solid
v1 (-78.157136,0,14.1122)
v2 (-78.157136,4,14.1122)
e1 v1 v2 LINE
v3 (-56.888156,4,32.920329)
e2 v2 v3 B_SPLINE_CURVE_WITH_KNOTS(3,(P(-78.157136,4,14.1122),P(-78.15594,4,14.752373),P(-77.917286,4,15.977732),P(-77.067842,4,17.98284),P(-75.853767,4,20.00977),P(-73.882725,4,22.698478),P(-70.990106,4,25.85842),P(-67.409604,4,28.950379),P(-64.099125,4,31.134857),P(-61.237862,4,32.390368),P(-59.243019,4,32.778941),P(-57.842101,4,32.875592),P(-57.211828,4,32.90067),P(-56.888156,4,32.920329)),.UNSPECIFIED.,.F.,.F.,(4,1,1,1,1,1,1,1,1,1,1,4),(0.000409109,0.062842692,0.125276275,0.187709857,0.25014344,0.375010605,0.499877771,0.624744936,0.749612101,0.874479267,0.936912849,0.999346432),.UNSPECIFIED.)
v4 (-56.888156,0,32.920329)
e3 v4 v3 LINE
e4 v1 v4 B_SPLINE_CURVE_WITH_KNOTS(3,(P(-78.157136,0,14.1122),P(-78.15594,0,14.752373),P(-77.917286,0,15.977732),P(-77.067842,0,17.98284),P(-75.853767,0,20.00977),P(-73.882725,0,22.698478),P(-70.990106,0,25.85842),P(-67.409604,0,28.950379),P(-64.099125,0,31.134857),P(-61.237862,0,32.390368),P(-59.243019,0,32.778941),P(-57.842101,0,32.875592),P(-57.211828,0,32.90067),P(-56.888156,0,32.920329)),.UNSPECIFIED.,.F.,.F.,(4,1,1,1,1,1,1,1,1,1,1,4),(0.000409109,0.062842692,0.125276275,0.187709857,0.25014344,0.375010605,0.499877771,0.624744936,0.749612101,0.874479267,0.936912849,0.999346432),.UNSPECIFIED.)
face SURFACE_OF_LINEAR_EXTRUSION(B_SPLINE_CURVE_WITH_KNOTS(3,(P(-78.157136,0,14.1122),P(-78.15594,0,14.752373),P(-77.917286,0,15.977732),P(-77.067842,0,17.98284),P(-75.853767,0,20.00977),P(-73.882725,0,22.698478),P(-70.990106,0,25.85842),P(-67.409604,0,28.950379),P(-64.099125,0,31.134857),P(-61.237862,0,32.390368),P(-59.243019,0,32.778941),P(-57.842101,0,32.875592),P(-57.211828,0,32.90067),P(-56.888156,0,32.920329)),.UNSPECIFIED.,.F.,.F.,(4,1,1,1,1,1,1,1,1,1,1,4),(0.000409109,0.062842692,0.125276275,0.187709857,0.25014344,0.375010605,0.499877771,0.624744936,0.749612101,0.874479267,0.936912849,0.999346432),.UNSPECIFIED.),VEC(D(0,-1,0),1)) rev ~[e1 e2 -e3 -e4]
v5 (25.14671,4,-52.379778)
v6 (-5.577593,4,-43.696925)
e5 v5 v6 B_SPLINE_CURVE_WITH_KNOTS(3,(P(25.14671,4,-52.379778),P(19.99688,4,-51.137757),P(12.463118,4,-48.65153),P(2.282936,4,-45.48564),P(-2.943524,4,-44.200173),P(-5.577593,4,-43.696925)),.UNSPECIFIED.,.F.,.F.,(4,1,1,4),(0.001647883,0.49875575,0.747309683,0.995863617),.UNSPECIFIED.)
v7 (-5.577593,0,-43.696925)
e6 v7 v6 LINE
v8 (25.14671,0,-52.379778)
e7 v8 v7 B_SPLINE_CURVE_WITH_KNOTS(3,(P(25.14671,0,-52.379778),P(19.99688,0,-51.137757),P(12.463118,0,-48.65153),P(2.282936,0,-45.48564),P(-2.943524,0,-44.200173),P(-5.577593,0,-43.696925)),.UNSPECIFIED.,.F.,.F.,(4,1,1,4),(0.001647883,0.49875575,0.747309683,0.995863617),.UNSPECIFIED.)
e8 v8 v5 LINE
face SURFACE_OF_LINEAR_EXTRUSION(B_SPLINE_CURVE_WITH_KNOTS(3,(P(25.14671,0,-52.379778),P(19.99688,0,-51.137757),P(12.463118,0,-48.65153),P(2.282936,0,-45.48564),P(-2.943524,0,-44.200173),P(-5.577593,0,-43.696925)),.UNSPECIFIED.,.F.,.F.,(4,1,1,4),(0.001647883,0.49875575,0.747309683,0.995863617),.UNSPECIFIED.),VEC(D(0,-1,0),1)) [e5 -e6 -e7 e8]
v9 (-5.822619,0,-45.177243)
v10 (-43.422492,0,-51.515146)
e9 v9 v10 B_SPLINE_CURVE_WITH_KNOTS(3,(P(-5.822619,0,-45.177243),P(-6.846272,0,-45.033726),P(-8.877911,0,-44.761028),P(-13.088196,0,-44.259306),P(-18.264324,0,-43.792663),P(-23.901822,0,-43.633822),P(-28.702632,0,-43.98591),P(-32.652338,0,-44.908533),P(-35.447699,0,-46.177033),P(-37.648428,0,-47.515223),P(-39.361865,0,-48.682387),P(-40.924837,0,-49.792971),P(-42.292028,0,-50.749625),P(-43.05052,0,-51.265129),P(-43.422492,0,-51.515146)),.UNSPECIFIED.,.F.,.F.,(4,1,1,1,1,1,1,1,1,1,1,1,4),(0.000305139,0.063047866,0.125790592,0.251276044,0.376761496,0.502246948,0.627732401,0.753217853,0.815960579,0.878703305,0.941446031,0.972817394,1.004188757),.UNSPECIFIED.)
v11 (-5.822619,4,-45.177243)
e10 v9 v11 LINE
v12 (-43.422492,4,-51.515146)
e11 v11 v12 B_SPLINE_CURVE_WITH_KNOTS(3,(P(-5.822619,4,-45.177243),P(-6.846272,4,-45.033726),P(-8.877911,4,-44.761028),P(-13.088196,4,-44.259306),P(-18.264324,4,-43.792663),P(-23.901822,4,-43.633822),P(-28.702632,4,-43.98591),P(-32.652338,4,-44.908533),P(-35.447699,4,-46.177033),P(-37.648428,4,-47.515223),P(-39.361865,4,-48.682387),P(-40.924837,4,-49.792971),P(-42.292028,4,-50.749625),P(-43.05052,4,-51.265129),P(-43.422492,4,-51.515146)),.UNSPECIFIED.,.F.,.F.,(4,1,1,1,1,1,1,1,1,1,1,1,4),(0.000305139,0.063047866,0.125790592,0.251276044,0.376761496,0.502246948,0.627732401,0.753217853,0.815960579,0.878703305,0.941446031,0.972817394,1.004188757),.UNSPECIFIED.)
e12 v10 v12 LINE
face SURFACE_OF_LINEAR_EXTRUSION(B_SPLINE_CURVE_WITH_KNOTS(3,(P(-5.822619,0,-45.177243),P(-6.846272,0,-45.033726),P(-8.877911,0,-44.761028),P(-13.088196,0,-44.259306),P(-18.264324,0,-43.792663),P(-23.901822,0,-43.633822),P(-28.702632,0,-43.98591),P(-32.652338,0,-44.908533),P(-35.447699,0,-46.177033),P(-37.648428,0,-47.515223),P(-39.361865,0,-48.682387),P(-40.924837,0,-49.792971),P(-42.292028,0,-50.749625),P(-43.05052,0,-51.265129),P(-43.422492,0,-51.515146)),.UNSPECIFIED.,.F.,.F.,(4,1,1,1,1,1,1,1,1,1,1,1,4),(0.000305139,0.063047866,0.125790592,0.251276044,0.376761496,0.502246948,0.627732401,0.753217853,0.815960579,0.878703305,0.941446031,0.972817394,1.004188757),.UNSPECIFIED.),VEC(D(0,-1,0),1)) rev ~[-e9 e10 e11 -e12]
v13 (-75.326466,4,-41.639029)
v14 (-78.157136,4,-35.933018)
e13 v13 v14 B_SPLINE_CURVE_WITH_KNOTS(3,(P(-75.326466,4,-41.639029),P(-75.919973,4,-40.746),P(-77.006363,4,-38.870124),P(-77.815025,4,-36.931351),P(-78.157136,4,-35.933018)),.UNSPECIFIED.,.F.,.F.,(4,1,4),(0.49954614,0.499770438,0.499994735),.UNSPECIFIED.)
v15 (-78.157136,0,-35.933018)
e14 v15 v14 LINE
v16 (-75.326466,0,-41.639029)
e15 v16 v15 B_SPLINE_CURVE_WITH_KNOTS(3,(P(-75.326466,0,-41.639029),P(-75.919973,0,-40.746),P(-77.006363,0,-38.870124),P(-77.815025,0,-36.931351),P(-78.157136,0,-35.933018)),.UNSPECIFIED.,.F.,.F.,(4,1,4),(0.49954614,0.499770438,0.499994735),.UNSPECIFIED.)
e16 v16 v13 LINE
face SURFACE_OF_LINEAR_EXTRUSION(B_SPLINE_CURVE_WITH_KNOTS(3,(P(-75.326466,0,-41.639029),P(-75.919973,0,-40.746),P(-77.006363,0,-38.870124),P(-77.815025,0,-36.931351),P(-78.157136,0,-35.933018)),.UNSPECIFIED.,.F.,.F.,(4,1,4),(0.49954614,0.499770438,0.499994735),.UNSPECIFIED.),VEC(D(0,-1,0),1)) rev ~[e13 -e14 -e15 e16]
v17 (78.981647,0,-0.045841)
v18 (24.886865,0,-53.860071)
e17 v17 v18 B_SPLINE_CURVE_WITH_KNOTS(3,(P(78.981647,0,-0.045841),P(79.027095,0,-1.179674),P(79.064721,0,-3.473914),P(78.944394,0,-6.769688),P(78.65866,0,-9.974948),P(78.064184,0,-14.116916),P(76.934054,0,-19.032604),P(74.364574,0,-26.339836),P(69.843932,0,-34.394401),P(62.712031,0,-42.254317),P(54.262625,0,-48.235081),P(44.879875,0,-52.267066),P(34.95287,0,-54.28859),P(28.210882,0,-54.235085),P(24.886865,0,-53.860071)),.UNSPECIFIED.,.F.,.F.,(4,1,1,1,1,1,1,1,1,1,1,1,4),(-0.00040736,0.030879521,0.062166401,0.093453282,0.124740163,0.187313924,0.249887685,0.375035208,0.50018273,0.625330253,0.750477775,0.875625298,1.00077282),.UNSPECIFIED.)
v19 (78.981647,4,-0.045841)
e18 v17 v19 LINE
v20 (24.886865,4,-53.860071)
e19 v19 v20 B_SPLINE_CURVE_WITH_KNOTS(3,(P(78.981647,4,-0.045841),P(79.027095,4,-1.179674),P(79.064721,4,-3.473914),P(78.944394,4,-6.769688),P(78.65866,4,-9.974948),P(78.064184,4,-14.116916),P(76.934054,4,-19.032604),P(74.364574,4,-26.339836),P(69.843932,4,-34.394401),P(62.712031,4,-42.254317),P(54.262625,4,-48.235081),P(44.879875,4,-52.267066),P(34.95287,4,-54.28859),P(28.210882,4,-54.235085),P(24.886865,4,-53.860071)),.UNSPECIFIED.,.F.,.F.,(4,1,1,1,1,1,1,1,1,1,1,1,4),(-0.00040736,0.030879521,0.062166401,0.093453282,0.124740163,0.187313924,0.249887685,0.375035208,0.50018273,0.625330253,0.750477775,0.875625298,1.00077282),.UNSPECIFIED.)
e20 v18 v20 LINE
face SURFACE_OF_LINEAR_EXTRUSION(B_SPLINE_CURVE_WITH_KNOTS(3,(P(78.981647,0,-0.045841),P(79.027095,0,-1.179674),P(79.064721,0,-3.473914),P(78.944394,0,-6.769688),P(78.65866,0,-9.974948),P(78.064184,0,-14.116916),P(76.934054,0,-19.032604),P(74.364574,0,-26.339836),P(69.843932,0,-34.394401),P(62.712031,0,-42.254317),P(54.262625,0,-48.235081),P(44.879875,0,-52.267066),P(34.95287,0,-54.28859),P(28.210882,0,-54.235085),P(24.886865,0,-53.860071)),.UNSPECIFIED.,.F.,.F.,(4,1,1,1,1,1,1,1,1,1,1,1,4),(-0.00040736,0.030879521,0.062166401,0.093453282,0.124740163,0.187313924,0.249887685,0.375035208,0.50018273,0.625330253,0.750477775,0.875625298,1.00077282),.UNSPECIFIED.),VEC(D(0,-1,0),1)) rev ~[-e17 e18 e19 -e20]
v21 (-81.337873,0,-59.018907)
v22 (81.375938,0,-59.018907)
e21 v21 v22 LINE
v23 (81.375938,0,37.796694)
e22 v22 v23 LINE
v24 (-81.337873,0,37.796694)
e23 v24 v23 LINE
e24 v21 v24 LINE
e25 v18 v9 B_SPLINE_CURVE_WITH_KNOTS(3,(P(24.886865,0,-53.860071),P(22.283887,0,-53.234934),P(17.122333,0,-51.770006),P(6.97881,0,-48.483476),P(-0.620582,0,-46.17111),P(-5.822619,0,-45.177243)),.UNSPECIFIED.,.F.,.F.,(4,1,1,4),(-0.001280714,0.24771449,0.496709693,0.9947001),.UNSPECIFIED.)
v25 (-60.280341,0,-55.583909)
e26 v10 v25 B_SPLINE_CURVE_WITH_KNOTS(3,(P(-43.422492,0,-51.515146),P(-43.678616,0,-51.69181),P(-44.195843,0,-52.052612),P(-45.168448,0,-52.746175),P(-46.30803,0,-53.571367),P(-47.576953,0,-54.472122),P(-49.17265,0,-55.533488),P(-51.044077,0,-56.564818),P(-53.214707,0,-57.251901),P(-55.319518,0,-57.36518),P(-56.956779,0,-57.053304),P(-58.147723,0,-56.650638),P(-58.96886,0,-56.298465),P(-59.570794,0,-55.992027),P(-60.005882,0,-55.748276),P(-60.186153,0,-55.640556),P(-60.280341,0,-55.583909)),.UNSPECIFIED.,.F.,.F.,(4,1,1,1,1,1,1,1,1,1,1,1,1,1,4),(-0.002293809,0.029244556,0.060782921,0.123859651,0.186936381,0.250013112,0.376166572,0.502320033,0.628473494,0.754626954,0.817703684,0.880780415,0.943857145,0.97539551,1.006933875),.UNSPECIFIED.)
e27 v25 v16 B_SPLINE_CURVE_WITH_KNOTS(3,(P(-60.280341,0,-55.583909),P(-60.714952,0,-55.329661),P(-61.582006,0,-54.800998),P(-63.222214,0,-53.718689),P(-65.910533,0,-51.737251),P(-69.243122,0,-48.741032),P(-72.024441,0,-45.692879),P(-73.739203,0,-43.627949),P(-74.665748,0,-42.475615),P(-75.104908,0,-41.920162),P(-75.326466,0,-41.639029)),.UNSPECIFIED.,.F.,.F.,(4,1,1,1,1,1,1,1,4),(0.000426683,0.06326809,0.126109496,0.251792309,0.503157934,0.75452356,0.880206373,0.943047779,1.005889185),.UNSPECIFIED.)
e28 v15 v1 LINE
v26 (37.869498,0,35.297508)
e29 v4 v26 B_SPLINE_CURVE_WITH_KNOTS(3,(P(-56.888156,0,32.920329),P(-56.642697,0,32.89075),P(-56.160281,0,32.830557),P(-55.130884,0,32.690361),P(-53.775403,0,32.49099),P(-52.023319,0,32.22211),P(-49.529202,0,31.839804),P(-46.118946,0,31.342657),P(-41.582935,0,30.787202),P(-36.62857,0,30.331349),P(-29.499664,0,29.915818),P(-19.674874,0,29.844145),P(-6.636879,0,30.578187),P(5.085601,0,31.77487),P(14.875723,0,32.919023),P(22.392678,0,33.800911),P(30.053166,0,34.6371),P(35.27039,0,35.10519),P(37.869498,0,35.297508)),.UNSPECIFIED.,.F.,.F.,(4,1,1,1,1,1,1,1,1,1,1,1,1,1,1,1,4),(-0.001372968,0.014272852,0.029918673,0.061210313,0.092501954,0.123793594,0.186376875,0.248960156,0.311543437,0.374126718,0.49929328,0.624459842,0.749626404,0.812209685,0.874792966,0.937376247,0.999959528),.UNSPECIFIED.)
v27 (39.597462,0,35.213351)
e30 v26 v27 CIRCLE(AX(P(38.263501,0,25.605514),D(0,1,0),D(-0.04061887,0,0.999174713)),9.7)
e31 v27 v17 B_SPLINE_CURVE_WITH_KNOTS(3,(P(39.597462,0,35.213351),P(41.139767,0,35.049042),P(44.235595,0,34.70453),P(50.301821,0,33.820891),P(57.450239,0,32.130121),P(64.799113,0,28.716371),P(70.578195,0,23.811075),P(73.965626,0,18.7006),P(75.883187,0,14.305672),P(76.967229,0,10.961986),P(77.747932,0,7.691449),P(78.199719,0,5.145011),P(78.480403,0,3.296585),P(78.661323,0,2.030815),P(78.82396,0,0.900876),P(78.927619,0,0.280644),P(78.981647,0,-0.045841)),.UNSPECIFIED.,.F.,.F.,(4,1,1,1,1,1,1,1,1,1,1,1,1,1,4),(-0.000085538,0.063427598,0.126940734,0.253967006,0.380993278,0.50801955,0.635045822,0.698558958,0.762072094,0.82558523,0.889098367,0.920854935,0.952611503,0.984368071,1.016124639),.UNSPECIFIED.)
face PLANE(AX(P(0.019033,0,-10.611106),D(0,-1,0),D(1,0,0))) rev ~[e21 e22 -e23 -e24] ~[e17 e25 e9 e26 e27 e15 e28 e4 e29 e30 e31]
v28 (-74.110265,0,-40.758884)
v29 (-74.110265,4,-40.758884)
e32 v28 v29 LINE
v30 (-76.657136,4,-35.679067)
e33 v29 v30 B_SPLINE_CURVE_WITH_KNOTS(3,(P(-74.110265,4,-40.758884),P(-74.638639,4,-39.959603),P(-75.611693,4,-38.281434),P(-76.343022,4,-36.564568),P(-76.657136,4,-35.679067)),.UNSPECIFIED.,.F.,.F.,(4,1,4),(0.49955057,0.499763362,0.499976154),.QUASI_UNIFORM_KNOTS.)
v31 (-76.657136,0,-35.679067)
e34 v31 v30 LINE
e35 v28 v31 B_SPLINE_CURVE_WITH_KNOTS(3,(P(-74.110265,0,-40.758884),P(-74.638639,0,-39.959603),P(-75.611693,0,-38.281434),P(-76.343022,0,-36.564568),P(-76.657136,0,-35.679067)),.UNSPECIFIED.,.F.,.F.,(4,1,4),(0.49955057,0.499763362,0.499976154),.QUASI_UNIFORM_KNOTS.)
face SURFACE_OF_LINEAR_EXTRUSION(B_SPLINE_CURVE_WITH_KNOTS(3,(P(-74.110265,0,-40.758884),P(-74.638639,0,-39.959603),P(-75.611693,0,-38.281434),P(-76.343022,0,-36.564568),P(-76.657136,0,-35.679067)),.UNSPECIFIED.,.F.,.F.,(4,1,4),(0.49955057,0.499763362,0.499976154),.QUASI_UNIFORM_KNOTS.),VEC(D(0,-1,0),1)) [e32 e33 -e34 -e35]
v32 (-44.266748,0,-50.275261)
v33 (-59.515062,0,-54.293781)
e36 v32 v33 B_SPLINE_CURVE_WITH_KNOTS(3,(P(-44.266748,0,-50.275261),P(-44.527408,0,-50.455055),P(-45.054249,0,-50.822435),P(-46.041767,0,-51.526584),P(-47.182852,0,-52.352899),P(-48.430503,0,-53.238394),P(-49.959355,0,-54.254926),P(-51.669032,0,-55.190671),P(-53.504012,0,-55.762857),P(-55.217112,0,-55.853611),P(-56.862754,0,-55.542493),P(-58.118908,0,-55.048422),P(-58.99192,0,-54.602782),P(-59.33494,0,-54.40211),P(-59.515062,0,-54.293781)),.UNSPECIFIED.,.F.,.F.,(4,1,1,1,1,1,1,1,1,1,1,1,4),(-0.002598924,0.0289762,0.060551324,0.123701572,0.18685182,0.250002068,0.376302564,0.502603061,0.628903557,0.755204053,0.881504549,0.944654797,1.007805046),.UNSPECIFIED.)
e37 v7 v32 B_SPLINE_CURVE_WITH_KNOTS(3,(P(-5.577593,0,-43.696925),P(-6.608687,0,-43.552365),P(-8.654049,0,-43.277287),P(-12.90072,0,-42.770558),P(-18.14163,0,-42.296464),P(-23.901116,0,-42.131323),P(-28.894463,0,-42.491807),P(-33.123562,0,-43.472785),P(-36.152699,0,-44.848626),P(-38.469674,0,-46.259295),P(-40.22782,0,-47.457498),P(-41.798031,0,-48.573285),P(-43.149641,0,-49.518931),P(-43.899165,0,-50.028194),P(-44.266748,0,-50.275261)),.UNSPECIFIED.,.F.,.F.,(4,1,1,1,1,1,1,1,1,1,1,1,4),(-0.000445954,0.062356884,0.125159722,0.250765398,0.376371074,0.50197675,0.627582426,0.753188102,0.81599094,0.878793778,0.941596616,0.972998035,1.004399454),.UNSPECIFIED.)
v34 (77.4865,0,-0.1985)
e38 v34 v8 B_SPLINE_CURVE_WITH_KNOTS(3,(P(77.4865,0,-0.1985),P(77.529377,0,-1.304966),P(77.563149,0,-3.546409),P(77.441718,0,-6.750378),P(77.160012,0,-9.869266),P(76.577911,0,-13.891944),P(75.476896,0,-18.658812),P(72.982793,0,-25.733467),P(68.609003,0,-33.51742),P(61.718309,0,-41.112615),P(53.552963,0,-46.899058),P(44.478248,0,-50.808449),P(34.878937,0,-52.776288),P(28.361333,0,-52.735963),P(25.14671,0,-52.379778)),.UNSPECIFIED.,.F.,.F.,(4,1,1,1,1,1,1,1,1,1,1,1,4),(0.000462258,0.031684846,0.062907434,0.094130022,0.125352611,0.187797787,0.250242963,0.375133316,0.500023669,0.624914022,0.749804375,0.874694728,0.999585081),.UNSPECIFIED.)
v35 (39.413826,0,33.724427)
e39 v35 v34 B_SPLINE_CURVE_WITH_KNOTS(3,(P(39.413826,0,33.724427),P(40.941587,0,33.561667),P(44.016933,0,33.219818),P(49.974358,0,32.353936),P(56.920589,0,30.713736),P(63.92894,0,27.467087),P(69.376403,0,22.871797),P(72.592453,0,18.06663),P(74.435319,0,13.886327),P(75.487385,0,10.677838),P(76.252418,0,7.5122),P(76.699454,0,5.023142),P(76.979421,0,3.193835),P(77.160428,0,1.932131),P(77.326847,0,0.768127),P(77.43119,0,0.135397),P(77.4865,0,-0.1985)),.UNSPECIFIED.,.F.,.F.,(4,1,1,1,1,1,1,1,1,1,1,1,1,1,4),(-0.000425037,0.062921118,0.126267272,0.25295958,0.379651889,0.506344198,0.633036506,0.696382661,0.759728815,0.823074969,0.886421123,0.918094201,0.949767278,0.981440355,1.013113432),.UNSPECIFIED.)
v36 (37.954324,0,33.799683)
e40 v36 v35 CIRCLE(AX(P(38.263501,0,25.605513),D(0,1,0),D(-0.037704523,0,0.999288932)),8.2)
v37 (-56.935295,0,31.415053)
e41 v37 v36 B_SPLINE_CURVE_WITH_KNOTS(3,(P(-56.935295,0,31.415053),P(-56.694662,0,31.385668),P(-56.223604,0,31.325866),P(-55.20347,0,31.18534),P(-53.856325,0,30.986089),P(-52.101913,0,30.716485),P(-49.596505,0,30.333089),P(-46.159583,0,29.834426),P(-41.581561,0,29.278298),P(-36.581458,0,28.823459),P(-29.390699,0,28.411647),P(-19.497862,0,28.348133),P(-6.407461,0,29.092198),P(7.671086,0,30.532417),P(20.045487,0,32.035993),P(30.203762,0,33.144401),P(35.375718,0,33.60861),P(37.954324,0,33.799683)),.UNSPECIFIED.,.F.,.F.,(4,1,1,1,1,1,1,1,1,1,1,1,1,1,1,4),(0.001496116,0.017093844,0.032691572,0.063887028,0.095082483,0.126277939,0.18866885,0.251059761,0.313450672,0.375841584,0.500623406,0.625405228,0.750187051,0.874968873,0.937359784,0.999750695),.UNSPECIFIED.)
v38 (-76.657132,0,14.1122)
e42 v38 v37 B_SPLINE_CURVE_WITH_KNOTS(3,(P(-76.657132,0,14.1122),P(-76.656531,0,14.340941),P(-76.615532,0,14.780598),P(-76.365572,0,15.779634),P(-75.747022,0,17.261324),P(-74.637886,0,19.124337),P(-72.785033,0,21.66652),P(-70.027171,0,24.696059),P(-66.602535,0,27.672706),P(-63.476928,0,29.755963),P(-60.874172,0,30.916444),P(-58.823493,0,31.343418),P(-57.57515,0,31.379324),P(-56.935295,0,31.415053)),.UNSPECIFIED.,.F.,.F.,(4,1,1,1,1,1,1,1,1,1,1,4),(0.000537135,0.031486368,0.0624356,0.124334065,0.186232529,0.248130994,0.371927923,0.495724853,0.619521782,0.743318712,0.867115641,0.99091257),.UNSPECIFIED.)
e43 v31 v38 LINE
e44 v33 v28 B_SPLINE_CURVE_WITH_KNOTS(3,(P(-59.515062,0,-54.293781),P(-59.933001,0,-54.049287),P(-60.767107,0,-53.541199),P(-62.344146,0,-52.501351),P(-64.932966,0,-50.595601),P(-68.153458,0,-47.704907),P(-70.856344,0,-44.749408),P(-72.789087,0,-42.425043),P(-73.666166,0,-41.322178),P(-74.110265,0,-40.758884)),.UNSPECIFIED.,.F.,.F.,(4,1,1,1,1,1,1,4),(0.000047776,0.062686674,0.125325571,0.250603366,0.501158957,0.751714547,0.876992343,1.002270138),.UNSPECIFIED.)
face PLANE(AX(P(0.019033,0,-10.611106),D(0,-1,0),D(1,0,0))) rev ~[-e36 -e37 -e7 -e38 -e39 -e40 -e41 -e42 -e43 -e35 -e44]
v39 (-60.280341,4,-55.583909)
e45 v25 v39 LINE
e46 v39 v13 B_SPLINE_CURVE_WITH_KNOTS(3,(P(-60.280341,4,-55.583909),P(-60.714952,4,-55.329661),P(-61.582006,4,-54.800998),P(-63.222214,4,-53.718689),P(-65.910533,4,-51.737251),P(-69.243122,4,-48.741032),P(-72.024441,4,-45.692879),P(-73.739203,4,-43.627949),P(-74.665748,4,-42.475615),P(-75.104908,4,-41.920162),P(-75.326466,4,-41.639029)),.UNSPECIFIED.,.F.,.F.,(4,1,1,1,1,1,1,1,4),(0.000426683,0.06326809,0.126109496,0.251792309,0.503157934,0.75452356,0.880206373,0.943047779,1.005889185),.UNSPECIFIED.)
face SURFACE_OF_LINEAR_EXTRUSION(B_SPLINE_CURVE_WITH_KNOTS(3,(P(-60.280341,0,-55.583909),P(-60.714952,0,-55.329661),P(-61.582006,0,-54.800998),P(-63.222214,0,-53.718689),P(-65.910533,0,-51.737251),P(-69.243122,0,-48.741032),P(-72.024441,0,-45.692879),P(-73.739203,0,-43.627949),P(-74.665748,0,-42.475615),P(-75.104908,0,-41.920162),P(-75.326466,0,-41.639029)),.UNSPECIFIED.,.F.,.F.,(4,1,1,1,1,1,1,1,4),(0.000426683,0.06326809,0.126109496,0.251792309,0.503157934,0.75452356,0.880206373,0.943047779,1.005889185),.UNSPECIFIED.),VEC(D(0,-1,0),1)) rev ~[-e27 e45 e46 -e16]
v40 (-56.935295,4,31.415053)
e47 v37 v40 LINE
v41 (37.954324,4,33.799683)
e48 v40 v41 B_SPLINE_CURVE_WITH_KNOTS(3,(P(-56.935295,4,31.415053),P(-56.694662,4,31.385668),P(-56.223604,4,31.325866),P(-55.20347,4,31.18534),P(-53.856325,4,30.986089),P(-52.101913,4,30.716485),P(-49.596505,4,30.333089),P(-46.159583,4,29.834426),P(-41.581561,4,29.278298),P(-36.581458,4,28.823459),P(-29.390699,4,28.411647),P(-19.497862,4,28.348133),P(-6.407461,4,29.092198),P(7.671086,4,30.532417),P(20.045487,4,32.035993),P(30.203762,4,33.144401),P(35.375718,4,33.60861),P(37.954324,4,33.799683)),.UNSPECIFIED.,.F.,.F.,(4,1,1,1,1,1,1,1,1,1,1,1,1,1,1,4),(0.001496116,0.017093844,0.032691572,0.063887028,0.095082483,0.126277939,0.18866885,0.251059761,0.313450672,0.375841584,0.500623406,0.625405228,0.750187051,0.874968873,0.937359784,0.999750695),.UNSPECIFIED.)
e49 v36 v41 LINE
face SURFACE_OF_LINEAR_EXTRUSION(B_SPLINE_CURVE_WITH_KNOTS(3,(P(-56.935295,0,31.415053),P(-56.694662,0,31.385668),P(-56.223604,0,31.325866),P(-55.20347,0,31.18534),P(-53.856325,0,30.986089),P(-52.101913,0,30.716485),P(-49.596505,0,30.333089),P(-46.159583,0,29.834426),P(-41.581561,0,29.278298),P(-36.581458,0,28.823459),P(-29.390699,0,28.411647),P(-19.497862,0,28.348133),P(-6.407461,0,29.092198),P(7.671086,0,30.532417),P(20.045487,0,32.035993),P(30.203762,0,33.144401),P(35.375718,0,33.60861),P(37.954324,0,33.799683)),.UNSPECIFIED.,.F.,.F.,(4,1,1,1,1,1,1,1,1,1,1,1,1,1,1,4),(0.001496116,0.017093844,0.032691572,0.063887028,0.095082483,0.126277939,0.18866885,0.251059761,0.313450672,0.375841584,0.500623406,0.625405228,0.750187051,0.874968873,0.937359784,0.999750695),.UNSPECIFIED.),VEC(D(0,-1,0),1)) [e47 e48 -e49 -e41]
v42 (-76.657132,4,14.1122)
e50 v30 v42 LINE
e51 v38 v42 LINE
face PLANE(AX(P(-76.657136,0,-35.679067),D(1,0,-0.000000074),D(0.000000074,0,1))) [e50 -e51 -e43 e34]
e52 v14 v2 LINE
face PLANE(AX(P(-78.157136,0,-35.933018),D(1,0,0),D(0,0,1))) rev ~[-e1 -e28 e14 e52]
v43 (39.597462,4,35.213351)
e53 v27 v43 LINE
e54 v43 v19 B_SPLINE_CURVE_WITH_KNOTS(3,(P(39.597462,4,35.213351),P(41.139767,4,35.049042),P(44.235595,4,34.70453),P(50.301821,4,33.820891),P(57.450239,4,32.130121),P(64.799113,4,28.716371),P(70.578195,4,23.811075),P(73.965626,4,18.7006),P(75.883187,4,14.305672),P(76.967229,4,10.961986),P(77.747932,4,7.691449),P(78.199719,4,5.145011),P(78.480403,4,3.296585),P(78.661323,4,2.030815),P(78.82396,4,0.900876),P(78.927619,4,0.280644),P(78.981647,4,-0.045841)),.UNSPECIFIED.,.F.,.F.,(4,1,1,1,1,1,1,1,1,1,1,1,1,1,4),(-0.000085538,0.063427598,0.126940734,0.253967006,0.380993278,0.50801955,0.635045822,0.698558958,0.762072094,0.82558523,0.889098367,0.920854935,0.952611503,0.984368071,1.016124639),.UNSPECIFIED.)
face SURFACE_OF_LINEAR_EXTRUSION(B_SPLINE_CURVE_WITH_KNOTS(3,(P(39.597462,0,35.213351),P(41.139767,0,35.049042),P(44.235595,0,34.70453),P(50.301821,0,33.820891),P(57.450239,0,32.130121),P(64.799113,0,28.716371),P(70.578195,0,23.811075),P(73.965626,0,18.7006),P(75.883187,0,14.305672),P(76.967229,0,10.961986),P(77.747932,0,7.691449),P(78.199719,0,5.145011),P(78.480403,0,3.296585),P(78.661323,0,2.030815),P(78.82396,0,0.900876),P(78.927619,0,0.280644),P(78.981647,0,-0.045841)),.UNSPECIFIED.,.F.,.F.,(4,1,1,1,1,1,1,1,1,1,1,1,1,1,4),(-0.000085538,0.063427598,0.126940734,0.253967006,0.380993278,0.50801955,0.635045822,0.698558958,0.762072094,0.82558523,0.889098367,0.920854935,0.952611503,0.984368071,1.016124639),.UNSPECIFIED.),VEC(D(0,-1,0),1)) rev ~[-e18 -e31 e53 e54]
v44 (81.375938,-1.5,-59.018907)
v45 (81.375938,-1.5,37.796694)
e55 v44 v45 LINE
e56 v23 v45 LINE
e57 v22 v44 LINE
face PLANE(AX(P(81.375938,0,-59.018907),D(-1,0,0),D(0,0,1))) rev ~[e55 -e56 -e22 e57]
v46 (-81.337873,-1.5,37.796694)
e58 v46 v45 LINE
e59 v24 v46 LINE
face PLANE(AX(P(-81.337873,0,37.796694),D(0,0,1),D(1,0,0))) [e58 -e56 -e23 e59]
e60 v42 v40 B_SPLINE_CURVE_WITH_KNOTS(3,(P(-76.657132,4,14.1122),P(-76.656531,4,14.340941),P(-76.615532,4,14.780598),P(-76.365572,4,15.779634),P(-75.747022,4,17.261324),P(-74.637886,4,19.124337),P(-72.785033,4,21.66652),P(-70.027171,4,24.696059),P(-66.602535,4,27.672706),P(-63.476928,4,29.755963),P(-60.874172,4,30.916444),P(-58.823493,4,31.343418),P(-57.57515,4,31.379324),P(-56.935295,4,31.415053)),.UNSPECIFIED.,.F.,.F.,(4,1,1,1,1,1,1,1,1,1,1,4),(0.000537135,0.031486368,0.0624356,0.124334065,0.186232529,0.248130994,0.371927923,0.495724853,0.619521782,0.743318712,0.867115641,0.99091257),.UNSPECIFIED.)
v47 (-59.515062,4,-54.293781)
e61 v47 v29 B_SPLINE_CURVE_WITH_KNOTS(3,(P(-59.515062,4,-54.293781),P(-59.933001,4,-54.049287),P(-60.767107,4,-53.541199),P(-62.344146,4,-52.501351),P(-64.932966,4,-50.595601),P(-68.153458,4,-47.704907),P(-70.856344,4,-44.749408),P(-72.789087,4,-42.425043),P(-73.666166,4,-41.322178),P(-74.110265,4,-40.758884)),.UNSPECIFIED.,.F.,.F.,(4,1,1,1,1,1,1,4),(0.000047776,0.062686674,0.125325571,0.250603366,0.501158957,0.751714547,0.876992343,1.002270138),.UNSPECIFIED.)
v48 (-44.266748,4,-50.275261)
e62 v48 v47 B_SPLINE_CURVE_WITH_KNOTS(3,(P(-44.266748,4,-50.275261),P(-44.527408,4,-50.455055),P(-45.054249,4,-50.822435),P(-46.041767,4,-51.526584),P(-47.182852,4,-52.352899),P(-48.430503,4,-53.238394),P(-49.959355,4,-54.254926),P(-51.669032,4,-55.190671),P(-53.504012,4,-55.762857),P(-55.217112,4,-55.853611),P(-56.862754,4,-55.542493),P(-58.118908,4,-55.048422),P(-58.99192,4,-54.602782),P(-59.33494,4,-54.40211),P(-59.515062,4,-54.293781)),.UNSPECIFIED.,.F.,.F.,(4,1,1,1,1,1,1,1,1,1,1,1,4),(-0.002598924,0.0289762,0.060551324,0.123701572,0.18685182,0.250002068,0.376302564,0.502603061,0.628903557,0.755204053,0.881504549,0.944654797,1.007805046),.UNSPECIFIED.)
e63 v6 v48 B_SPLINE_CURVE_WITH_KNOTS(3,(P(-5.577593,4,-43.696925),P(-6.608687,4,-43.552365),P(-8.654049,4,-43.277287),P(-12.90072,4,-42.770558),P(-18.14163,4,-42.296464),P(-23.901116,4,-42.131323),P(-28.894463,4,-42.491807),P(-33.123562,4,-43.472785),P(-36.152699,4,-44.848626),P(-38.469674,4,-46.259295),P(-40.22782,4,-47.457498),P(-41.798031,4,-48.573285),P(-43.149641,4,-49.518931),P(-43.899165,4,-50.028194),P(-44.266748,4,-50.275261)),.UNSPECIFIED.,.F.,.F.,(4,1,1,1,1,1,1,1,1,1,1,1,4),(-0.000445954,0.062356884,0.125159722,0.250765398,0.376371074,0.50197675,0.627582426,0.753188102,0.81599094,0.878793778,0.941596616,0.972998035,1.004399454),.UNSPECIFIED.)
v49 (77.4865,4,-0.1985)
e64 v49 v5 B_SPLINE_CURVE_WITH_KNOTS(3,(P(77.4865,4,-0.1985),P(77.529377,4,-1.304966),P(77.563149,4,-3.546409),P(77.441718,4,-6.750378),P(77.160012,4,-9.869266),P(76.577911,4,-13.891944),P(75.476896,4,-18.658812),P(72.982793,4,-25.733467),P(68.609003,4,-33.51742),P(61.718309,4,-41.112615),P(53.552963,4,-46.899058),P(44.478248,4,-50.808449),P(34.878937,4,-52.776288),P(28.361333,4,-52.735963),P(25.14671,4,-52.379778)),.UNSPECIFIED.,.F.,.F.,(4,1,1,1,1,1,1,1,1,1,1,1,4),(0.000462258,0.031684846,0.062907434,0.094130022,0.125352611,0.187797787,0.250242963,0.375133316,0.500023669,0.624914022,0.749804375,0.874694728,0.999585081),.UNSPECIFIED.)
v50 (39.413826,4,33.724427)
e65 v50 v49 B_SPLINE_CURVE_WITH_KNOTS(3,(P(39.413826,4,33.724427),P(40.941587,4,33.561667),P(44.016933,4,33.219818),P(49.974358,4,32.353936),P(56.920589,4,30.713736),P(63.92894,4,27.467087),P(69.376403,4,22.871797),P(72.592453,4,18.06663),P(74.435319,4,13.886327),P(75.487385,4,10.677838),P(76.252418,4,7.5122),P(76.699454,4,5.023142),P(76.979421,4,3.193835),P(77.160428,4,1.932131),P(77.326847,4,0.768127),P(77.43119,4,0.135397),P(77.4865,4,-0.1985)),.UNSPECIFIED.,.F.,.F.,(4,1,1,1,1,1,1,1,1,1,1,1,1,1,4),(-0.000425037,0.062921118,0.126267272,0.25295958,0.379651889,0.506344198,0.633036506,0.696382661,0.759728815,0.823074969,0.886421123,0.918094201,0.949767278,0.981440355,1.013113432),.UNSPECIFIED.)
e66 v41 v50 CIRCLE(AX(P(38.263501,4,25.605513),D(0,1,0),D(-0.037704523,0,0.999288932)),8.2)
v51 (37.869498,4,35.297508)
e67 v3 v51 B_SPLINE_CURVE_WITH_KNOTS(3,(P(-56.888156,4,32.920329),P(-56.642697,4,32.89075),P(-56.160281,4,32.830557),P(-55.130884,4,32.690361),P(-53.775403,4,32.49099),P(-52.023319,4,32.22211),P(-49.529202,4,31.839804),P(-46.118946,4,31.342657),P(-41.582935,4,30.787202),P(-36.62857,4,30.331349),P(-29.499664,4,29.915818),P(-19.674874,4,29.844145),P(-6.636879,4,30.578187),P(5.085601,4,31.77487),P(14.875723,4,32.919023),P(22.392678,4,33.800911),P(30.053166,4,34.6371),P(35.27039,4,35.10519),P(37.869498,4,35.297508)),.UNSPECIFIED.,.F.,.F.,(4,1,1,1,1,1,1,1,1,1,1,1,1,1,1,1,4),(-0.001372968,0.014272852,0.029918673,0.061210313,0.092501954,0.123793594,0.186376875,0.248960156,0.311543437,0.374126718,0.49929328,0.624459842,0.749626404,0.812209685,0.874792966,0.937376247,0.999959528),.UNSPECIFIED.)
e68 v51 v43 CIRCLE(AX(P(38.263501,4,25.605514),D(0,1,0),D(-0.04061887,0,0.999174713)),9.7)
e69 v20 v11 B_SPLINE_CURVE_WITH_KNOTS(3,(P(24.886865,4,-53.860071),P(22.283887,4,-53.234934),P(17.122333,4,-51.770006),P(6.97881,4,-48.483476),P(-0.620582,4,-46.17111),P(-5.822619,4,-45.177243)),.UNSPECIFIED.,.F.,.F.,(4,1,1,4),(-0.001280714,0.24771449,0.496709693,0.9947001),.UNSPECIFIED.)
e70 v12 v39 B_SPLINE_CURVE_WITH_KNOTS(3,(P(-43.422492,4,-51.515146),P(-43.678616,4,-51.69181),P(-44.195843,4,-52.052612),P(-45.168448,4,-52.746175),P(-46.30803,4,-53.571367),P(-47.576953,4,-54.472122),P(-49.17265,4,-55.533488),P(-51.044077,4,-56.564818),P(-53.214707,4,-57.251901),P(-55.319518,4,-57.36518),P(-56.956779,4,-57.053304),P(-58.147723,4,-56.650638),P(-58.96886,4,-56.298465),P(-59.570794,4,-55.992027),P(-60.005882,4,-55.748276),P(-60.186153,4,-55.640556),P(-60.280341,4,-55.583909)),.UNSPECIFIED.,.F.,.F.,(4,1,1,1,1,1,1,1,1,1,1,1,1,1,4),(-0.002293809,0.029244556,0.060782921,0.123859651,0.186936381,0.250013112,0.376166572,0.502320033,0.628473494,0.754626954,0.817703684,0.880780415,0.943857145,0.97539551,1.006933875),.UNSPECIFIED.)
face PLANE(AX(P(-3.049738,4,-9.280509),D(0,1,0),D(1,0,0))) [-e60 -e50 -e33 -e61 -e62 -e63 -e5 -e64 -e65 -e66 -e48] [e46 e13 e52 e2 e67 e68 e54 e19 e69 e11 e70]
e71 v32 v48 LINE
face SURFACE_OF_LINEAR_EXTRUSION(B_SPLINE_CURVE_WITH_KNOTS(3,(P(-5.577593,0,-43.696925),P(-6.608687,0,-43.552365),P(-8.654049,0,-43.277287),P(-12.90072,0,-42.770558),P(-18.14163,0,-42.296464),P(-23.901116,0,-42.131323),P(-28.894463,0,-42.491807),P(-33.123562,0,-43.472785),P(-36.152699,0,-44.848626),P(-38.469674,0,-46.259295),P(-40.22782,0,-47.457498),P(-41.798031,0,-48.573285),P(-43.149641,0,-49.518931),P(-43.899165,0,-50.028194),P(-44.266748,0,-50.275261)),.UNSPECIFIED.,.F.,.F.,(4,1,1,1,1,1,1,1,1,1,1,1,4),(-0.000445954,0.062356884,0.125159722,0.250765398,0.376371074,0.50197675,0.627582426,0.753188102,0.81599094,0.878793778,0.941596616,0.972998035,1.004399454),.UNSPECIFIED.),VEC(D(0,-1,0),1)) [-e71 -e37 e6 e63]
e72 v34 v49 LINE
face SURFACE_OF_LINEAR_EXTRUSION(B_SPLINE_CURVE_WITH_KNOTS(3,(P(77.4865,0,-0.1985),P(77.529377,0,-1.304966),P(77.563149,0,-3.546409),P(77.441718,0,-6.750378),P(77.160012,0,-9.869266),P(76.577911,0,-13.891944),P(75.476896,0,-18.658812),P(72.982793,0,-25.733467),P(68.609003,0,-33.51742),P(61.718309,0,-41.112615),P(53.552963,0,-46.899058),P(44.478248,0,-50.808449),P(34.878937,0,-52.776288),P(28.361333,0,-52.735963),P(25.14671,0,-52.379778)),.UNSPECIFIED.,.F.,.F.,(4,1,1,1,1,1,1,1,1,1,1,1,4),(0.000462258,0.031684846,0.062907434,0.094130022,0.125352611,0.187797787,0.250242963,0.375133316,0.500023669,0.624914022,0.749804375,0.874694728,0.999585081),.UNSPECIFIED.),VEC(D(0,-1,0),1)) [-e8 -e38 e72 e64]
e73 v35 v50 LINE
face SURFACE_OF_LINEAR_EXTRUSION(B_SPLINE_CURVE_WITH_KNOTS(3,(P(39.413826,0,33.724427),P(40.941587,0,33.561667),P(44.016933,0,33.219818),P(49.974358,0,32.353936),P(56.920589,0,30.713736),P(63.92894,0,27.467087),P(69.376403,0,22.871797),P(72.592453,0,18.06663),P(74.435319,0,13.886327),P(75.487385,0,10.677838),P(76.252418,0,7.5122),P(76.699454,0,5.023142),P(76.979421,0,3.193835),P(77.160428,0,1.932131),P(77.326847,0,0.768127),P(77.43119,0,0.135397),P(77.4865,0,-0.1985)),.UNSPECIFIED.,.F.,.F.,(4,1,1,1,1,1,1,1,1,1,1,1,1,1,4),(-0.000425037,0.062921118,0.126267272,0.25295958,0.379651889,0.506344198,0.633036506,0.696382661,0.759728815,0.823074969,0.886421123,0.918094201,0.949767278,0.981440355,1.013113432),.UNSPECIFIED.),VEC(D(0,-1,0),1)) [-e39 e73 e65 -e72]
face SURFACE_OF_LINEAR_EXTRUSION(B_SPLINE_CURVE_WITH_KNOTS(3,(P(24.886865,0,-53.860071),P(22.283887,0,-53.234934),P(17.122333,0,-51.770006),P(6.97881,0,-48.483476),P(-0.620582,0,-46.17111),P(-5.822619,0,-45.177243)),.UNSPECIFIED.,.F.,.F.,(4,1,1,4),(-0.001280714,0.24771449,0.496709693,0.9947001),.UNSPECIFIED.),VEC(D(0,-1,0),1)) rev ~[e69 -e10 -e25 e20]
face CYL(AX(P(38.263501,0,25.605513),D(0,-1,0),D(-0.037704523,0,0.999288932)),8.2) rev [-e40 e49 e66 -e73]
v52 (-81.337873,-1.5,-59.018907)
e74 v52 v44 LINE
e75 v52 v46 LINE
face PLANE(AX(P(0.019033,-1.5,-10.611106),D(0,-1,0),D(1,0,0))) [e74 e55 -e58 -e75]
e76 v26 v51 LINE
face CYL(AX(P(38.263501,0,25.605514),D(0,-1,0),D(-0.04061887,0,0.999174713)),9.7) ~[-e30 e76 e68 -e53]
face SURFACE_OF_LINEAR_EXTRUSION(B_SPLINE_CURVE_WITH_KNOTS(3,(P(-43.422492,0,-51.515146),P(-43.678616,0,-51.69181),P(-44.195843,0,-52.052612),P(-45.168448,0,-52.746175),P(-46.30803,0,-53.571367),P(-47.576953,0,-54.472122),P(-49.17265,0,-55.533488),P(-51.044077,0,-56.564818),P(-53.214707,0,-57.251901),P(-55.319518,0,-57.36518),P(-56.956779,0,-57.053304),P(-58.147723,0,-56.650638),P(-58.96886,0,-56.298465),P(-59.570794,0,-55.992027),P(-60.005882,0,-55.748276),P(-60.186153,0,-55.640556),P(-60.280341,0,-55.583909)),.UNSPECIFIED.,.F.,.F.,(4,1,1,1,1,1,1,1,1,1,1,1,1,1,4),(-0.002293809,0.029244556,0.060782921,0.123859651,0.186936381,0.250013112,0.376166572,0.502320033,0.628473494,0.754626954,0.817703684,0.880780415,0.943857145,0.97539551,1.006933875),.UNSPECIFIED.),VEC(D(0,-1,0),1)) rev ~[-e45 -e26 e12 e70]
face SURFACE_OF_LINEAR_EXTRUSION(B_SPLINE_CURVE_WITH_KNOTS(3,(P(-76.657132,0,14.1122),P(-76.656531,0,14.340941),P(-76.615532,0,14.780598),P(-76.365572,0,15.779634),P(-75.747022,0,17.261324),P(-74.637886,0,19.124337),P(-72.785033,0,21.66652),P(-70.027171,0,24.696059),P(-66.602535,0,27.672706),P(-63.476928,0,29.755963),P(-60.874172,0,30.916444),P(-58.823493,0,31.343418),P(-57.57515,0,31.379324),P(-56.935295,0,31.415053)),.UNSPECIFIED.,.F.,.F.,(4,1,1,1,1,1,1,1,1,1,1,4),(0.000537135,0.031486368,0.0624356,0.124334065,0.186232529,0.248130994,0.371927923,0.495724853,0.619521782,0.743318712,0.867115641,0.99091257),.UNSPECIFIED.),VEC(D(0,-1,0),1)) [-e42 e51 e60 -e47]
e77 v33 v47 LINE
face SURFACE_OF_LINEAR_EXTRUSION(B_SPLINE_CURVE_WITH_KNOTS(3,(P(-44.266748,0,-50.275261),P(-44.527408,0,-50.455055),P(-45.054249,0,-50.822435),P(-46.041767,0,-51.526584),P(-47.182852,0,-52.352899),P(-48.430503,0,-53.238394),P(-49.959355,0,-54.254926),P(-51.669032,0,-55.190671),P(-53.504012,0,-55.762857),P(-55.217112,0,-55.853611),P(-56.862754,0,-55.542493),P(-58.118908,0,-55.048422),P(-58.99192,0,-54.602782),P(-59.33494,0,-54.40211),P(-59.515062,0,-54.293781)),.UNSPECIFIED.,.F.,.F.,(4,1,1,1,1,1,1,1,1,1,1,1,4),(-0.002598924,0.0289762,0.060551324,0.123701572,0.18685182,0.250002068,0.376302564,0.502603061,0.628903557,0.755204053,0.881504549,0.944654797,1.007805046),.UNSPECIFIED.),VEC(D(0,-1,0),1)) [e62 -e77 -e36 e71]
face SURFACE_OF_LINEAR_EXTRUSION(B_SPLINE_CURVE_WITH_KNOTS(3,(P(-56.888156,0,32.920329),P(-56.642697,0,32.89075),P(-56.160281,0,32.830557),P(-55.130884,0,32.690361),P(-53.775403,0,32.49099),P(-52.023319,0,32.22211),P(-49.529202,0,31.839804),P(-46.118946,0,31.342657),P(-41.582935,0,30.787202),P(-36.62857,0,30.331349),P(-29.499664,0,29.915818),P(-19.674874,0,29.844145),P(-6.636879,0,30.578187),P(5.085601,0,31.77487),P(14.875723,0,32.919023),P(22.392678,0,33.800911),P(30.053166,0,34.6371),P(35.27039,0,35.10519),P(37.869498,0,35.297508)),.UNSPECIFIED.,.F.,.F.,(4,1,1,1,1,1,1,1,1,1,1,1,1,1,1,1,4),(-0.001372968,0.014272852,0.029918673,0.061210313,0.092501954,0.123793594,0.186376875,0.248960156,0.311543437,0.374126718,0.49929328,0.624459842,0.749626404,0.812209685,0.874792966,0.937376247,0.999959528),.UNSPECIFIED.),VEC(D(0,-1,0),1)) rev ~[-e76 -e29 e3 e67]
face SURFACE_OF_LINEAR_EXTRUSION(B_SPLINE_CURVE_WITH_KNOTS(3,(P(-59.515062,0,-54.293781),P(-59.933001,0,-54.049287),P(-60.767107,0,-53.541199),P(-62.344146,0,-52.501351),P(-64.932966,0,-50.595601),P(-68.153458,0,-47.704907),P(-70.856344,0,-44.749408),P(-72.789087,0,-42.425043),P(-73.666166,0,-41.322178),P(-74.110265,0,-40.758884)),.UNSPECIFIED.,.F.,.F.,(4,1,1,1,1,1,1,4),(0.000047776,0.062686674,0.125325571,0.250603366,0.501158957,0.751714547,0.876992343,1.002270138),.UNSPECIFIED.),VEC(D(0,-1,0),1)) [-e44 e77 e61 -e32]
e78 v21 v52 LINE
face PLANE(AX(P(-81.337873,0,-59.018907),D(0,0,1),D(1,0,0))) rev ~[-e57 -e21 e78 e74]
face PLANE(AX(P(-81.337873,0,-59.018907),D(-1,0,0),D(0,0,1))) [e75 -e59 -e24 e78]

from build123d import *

# Parameters (mm, degrees)
BOSS_EXTRUDE2_DEPTH = 4
SKETCH3_W           = 162.713811117
SKETCH3_H           = 96.815600969
BOSS_EXTRUDE3_DEPTH = 1.5


with BuildPart() as part:
    # Sketch2 → Boss-Extrude2 (new body)
    with BuildSketch(Plane(origin=(0, 0, 0), x_dir=(1, 0, 0), z_dir=(0, 1, 0))):
        with BuildLine():
            Line((-78.157135648, 35.933017955), (-78.157135648, -14.112200016))
            add(Edge.make_bspline(
                [(-78.157135648, -14.112200016), (-78.155939648, -14.752373068), (-77.91728619, -15.977732307), (-77.067841768, -17.98284043), (-75.853766997, -20.009770375), (-73.882725179, -22.698478403), (-70.990105914, -25.858420252), (-67.409604046, -28.950378503), (-64.099125185, -31.13485728), (-61.237861598, -32.390367883), (-59.243018884, -32.778941146), (-57.84210102, -32.875591912), (-57.21182785, -32.900669531), (-56.88815566, -32.920328572)],
                knots=[0.000409109, 0.000409109, 0.000409109, 0.000409109, 0.062842692, 0.125276275, 0.187709857, 0.25014344, 0.375010605, 0.499877771, 0.624744936, 0.749612101, 0.874479267, 0.936912849, 0.999346432, 0.999346432, 0.999346432, 0.999346432], degree=3))
            add(Edge.make_bspline(
                [(-56.88815566, -32.920328572), (-56.642696558, -32.89075012), (-56.160280632, -32.83055745), (-55.130884334, -32.690361106), (-53.775402575, -32.490990423), (-52.023319465, -32.222109613), (-49.529202359, -31.839803624), (-46.118946018, -31.34265718), (-41.582935401, -30.787201605), (-36.628570251, -30.3313494), (-29.499663542, -29.915818278), (-19.674874473, -29.844145156), (-6.636878998, -30.578186936), (5.085601081, -31.774869617), (14.875722867, -32.919022634), (22.392678178, -33.800910905), (30.053166384, -34.637100414), (35.270389761, -35.105189919), (37.869497862, -35.297508229)],
                knots=[-0.001372968, -0.001372968, -0.001372968, -0.001372968, 0.014272852, 0.029918673, 0.061210313, 0.092501954, 0.123793594, 0.186376875, 0.248960156, 0.311543437, 0.374126718, 0.49929328, 0.624459842, 0.749626404, 0.812209685, 0.874792966, 0.937376247, 0.999959528, 0.999959528, 0.999959528, 0.999959528], degree=3))
            ThreePointArc((37.869497862, -35.297508229), (38.735359767, -35.294029869), (39.597461801, -35.21335137))
            add(Edge.make_bspline(
                [(39.597461801, -35.21335137), (41.139767175, -35.04904175), (44.235594855, -34.704530206), (50.30182099, -33.820891122), (57.45023856, -32.130120831), (64.799112885, -28.716371013), (70.578195113, -23.811075447), (73.965626007, -18.700600273), (75.883187129, -14.305672198), (76.967229357, -10.961986186), (77.747932295, -7.691449122), (78.199718827, -5.145010951), (78.480402727, -3.296584904), (78.661323244, -2.03081469), (78.823959845, -0.900875926), (78.927618693, -0.280644372), (78.981646775, 0.045841454)],
                knots=[-8.5538e-05, -8.5538e-05, -8.5538e-05, -8.5538e-05, 0.063427598, 0.126940734, 0.253967006, 0.380993278, 0.50801955, 0.635045822, 0.698558958, 0.762072094, 0.82558523, 0.889098367, 0.920854935, 0.952611503, 0.984368071, 1.016124639, 1.016124639, 1.016124639, 1.016124639], degree=3))
            add(Edge.make_bspline(
                [(78.981646775, 0.045841454), (79.027094782, 1.179674429), (79.064720926, 3.473913783), (78.944393791, 6.769688051), (78.658660296, 9.974948397), (78.064183944, 14.11691568), (76.934054174, 19.032604235), (74.364574026, 26.339835799), (69.843932164, 34.39440102), (62.712031102, 42.254317161), (54.262624742, 48.235080745), (44.879874513, 52.267066292), (34.952870186, 54.2885898), (28.210881807, 54.235085369), (24.886864743, 53.860071186)],
                knots=[-0.00040736, -0.00040736, -0.00040736, -0.00040736, 0.030879521, 0.062166401, 0.093453282, 0.124740163, 0.187313924, 0.249887685, 0.375035208, 0.50018273, 0.625330253, 0.750477775, 0.875625298, 1.00077282, 1.00077282, 1.00077282, 1.00077282], degree=3))
            add(Edge.make_bspline(
                [(24.886864743, 53.860071186), (22.283887479, 53.234934331), (17.122333316, 51.770006392), (6.978810179, 48.483475597), (-0.62058189, 46.171110399), (-5.82261915, 45.177242661)],
                knots=[-0.001280714, -0.001280714, -0.001280714, -0.001280714, 0.24771449, 0.496709693, 0.9947001, 0.9947001, 0.9947001, 0.9947001], degree=3))
            add(Edge.make_bspline(
                [(-5.82261915, 45.177242661), (-6.846271695, 45.033725935), (-8.877911438, 44.761027761), (-13.088195507, 44.259306095), (-18.264324114, 43.792662786), (-23.901821518, 43.633821839), (-28.702631501, 43.985910311), (-32.652338295, 44.908532737), (-35.447699325, 46.177033317), (-37.648428, 47.515223041), (-39.36186509, 48.682387067), (-40.924837411, 49.79297126), (-42.29202762, 50.749624529), (-43.050520295, 51.26512862), (-43.422492414, 51.515145542)],
                knots=[0.000305139, 0.000305139, 0.000305139, 0.000305139, 0.063047866, 0.125790592, 0.251276044, 0.376761496, 0.502246948, 0.627732401, 0.753217853, 0.815960579, 0.878703305, 0.941446031, 0.972817394, 1.004188757, 1.004188757, 1.004188757, 1.004188757], degree=3))
            add(Edge.make_bspline(
                [(-43.422492414, 51.515145542), (-43.678616345, 51.691810139), (-44.195843457, 52.052612418), (-45.168447607, 52.746174672), (-46.308029686, 53.571366973), (-47.576953364, 54.472121728), (-49.172650358, 55.533487702), (-51.044076917, 56.564817563), (-53.214706641, 57.25190115), (-55.319518496, 57.36517967), (-56.956778648, 57.053303598), (-58.147723245, 56.650637672), (-58.968859533, 56.298465061), (-59.57079354, 55.992027065), (-60.005881741, 55.748275575), (-60.18615305, 55.640555889), (-60.280341084, 55.583909473)],
                knots=[-0.002293809, -0.002293809, -0.002293809, -0.002293809, 0.029244556, 0.060782921, 0.123859651, 0.186936381, 0.250013112, 0.376166572, 0.502320033, 0.628473494, 0.754626954, 0.817703684, 0.880780415, 0.943857145, 0.97539551, 1.006933875, 1.006933875, 1.006933875, 1.006933875], degree=3))
            add(Edge.make_bspline(
                [(-60.280341084, 55.583909473), (-60.714952444, 55.32966131), (-61.58200578, 54.800998059), (-63.22221391, 53.718688993), (-65.910533435, 51.737250649), (-69.243121764, 48.741031753), (-72.024440988, 45.692878732), (-73.73920341, 43.627948753), (-74.665747867, 42.475614869), (-75.104907594, 41.920162476), (-75.326466464, 41.639029179)],
                knots=[0.000426683, 0.000426683, 0.000426683, 0.000426683, 0.06326809, 0.126109496, 0.251792309, 0.503157934, 0.75452356, 0.880206373, 0.943047779, 1.005889185, 1.005889185, 1.005889185, 1.005889185], degree=3))
            add(Edge.make_bspline(
                [(-75.326466464, 41.639029179), (-75.91997327, 40.746000391), (-77.006363229, 38.87012428), (-77.815024814, 36.931350625), (-78.157135648, 35.933017955)],
                knots=[0.49954614, 0.49954614, 0.49954614, 0.49954614, 0.499770438, 0.499994735, 0.499994735, 0.499994735, 0.499994735], degree=3))
        make_face()
        with BuildLine():
            Line((-76.657135648, 35.679066848), (-76.657131969, -14.112200006))
            add(Edge.make_bspline(
                [(-76.657131969, -14.112200006), (-76.656531466, -14.340940611), (-76.615532486, -14.780598422), (-76.365572342, -15.779633829), (-75.747022441, -17.26132375), (-74.637885805, -19.124336874), (-72.785033195, -21.666520065), (-70.027170511, -24.69605914), (-66.602535352, -27.672706005), (-63.476928114, -29.755963329), (-60.874171764, -30.916444124), (-58.823492797, -31.343417769), (-57.575149509, -31.379323699), (-56.935294504, -31.415052584)],
                knots=[0.000537135, 0.000537135, 0.000537135, 0.000537135, 0.031486368, 0.0624356, 0.124334065, 0.186232529, 0.248130994, 0.371927923, 0.495724853, 0.619521782, 0.743318712, 0.867115641, 0.99091257, 0.99091257, 0.99091257, 0.99091257], degree=3))
            add(Edge.make_bspline(
                [(-56.935294504, -31.415052584), (-56.694661939, -31.385667933), (-56.223603705, -31.325866144), (-55.203470476, -31.185340461), (-53.856324583, -30.986089165), (-52.101912742, -30.716485052), (-49.596504581, -30.333088531), (-46.159583081, -29.834426322), (-41.581560568, -29.27829752), (-36.581457935, -28.823458861), (-29.390698582, -28.411647175), (-19.497861615, -28.34813345), (-6.407460838, -29.092198199), (7.671085742, -30.53241701), (20.045487362, -32.035993294), (30.203761894, -33.14440123), (35.375718345, -33.608610084), (37.954323811, -33.799682751)],
                knots=[0.001496116, 0.001496116, 0.001496116, 0.001496116, 0.017093844, 0.032691572, 0.063887028, 0.095082483, 0.126277939, 0.18866885, 0.251059761, 0.313450672, 0.375841584, 0.500623406, 0.625405228, 0.750187051, 0.874968873, 0.937359784, 0.999750695, 0.999750695, 0.999750695, 0.999750695], degree=3))
            ThreePointArc((37.954323811, -33.799682751), (38.685754809, -33.794634443), (39.413826008, -33.724426748))
            add(Edge.make_bspline(
                [(39.413826008, -33.724426748), (40.941587091, -33.561666605), (44.016933216, -33.219818338), (49.974357897, -32.353936258), (56.920589371, -30.71373603), (63.928940419, -27.467086873), (69.37640321, -22.871797273), (72.592452605, -18.066629926), (74.435319216, -13.886326636), (75.48738516, -10.677838243), (76.252417838, -7.512200065), (76.699454408, -5.023141593), (76.979420749, -3.19383512), (77.160428463, -1.932130727), (77.326847127, -0.768127182), (77.43119015, -0.135396957), (77.486499649, 0.198499569)],
                knots=[-0.000425037, -0.000425037, -0.000425037, -0.000425037, 0.062921118, 0.126267272, 0.25295958, 0.379651889, 0.506344198, 0.633036506, 0.696382661, 0.759728815, 0.823074969, 0.886421123, 0.918094201, 0.949767278, 0.981440355, 1.013113432, 1.013113432, 1.013113432, 1.013113432], degree=3))
            add(Edge.make_bspline(
                [(77.486499649, 0.198499569), (77.529376832, 1.304965595), (77.563148654, 3.54640861), (77.441718254, 6.750377683), (77.160012317, 9.869265522), (76.577911195, 13.891943853), (75.476896458, 18.658811745), (72.98279324, 25.733467023), (68.609003035, 33.517419822), (61.718308835, 41.112614632), (53.552963068, 46.899058336), (44.478248309, 50.80844929), (34.878936934, 52.776287746), (28.361333333, 52.735962773), (25.146710313, 52.37977831)],
                knots=[0.000462258, 0.000462258, 0.000462258, 0.000462258, 0.031684846, 0.062907434, 0.094130022, 0.125352611, 0.187797787, 0.250242963, 0.375133316, 0.500023669, 0.624914022, 0.749804375, 0.874694728, 0.999585081, 0.999585081, 0.999585081, 0.999585081], degree=3))
            add(Edge.make_bspline(
                [(25.146710313, 52.37977831), (19.996880057, 51.137756564), (12.46311825, 48.651529878), (2.282936309, 45.485639859), (-2.943523861, 44.200173327), (-5.577592643, 43.696925109)],
                knots=[0.001647883, 0.001647883, 0.001647883, 0.001647883, 0.49875575, 0.747309683, 0.995863617, 0.995863617, 0.995863617, 0.995863617], degree=3))
            add(Edge.make_bspline(
                [(-5.577592643, 43.696925109), (-6.608686649, 43.552365086), (-8.654048562, 43.277286792), (-12.900719679, 42.770558047), (-18.1416297, 42.296463944), (-23.901116409, 42.131322734), (-28.894462751, 42.491806828), (-33.123562317, 43.472784898), (-36.152698653, 44.848626269), (-38.469673728, 46.259294554), (-40.227820016, 47.45749815), (-41.798031425, 48.573285436), (-43.149641227, 49.51893077), (-43.899165402, 50.028194293), (-44.266747833, 50.275260736)],
                knots=[-0.000445954, -0.000445954, -0.000445954, -0.000445954, 0.062356884, 0.125159722, 0.250765398, 0.376371074, 0.50197675, 0.627582426, 0.753188102, 0.81599094, 0.878793778, 0.941596616, 0.972998035, 1.004399454, 1.004399454, 1.004399454, 1.004399454], degree=3))
            add(Edge.make_bspline(
                [(-44.266747833, 50.275260736), (-44.527408356, 50.455054502), (-45.054249251, 50.822434727), (-46.041767018, 51.526583503), (-47.182852187, 52.352899291), (-48.430502857, 53.238394378), (-49.959355128, 54.254926441), (-51.669032297, 55.190671355), (-53.504011998, 55.762856637), (-55.217112111, 55.853610566), (-56.862754072, 55.542492613), (-58.118908127, 55.048422463), (-58.991920159, 54.602781729), (-59.334940415, 54.402109669), (-59.515062385, 54.293781003)],
                knots=[-0.002598924, -0.002598924, -0.002598924, -0.002598924, 0.0289762, 0.060551324, 0.123701572, 0.18685182, 0.250002068, 0.376302564, 0.502603061, 0.628903557, 0.755204053, 0.881504549, 0.944654797, 1.007805046, 1.007805046, 1.007805046, 1.007805046], degree=3))
            add(Edge.make_bspline(
                [(-59.515062385, 54.293781003), (-59.933000678, 54.049286604), (-60.767107189, 53.541199426), (-62.34414566, 52.501351132), (-64.932965719, 50.59560099), (-68.153458432, 47.704906594), (-70.856343693, 44.749408068), (-72.789087262, 42.425042933), (-73.666165752, 41.322178137), (-74.110264621, 40.758884118)],
                knots=[4.7776e-05, 4.7776e-05, 4.7776e-05, 4.7776e-05, 0.062686674, 0.125325571, 0.250603366, 0.501158957, 0.751714547, 0.876992343, 1.002270138, 1.002270138, 1.002270138, 1.002270138], degree=3))
            add(Edge.make_bspline(
                [(-74.110264621, 40.758884118), (-74.638638681, 39.959603427), (-75.611693177, 38.281434426), (-76.343021988, 36.564567869), (-76.657135648, 35.679066848)],
                knots=[0.49955057, 0.49955057, 0.49955057, 0.49955057, 0.499763362, 0.499976154, 0.499976154, 0.499976154, 0.499976154], degree=3))
        make_face(mode=Mode.SUBTRACT)
    extrude(amount=BOSS_EXTRUDE2_DEPTH)

    # Sketch3 → Boss-Extrude3 (add)
    with BuildSketch(Plane.XZ):
        with Locations((0.019032639, -10.611106307)):
            Rectangle(SKETCH3_W, SKETCH3_H)
    extrude(amount=BOSS_EXTRUDE3_DEPTH)


solid = part.part
